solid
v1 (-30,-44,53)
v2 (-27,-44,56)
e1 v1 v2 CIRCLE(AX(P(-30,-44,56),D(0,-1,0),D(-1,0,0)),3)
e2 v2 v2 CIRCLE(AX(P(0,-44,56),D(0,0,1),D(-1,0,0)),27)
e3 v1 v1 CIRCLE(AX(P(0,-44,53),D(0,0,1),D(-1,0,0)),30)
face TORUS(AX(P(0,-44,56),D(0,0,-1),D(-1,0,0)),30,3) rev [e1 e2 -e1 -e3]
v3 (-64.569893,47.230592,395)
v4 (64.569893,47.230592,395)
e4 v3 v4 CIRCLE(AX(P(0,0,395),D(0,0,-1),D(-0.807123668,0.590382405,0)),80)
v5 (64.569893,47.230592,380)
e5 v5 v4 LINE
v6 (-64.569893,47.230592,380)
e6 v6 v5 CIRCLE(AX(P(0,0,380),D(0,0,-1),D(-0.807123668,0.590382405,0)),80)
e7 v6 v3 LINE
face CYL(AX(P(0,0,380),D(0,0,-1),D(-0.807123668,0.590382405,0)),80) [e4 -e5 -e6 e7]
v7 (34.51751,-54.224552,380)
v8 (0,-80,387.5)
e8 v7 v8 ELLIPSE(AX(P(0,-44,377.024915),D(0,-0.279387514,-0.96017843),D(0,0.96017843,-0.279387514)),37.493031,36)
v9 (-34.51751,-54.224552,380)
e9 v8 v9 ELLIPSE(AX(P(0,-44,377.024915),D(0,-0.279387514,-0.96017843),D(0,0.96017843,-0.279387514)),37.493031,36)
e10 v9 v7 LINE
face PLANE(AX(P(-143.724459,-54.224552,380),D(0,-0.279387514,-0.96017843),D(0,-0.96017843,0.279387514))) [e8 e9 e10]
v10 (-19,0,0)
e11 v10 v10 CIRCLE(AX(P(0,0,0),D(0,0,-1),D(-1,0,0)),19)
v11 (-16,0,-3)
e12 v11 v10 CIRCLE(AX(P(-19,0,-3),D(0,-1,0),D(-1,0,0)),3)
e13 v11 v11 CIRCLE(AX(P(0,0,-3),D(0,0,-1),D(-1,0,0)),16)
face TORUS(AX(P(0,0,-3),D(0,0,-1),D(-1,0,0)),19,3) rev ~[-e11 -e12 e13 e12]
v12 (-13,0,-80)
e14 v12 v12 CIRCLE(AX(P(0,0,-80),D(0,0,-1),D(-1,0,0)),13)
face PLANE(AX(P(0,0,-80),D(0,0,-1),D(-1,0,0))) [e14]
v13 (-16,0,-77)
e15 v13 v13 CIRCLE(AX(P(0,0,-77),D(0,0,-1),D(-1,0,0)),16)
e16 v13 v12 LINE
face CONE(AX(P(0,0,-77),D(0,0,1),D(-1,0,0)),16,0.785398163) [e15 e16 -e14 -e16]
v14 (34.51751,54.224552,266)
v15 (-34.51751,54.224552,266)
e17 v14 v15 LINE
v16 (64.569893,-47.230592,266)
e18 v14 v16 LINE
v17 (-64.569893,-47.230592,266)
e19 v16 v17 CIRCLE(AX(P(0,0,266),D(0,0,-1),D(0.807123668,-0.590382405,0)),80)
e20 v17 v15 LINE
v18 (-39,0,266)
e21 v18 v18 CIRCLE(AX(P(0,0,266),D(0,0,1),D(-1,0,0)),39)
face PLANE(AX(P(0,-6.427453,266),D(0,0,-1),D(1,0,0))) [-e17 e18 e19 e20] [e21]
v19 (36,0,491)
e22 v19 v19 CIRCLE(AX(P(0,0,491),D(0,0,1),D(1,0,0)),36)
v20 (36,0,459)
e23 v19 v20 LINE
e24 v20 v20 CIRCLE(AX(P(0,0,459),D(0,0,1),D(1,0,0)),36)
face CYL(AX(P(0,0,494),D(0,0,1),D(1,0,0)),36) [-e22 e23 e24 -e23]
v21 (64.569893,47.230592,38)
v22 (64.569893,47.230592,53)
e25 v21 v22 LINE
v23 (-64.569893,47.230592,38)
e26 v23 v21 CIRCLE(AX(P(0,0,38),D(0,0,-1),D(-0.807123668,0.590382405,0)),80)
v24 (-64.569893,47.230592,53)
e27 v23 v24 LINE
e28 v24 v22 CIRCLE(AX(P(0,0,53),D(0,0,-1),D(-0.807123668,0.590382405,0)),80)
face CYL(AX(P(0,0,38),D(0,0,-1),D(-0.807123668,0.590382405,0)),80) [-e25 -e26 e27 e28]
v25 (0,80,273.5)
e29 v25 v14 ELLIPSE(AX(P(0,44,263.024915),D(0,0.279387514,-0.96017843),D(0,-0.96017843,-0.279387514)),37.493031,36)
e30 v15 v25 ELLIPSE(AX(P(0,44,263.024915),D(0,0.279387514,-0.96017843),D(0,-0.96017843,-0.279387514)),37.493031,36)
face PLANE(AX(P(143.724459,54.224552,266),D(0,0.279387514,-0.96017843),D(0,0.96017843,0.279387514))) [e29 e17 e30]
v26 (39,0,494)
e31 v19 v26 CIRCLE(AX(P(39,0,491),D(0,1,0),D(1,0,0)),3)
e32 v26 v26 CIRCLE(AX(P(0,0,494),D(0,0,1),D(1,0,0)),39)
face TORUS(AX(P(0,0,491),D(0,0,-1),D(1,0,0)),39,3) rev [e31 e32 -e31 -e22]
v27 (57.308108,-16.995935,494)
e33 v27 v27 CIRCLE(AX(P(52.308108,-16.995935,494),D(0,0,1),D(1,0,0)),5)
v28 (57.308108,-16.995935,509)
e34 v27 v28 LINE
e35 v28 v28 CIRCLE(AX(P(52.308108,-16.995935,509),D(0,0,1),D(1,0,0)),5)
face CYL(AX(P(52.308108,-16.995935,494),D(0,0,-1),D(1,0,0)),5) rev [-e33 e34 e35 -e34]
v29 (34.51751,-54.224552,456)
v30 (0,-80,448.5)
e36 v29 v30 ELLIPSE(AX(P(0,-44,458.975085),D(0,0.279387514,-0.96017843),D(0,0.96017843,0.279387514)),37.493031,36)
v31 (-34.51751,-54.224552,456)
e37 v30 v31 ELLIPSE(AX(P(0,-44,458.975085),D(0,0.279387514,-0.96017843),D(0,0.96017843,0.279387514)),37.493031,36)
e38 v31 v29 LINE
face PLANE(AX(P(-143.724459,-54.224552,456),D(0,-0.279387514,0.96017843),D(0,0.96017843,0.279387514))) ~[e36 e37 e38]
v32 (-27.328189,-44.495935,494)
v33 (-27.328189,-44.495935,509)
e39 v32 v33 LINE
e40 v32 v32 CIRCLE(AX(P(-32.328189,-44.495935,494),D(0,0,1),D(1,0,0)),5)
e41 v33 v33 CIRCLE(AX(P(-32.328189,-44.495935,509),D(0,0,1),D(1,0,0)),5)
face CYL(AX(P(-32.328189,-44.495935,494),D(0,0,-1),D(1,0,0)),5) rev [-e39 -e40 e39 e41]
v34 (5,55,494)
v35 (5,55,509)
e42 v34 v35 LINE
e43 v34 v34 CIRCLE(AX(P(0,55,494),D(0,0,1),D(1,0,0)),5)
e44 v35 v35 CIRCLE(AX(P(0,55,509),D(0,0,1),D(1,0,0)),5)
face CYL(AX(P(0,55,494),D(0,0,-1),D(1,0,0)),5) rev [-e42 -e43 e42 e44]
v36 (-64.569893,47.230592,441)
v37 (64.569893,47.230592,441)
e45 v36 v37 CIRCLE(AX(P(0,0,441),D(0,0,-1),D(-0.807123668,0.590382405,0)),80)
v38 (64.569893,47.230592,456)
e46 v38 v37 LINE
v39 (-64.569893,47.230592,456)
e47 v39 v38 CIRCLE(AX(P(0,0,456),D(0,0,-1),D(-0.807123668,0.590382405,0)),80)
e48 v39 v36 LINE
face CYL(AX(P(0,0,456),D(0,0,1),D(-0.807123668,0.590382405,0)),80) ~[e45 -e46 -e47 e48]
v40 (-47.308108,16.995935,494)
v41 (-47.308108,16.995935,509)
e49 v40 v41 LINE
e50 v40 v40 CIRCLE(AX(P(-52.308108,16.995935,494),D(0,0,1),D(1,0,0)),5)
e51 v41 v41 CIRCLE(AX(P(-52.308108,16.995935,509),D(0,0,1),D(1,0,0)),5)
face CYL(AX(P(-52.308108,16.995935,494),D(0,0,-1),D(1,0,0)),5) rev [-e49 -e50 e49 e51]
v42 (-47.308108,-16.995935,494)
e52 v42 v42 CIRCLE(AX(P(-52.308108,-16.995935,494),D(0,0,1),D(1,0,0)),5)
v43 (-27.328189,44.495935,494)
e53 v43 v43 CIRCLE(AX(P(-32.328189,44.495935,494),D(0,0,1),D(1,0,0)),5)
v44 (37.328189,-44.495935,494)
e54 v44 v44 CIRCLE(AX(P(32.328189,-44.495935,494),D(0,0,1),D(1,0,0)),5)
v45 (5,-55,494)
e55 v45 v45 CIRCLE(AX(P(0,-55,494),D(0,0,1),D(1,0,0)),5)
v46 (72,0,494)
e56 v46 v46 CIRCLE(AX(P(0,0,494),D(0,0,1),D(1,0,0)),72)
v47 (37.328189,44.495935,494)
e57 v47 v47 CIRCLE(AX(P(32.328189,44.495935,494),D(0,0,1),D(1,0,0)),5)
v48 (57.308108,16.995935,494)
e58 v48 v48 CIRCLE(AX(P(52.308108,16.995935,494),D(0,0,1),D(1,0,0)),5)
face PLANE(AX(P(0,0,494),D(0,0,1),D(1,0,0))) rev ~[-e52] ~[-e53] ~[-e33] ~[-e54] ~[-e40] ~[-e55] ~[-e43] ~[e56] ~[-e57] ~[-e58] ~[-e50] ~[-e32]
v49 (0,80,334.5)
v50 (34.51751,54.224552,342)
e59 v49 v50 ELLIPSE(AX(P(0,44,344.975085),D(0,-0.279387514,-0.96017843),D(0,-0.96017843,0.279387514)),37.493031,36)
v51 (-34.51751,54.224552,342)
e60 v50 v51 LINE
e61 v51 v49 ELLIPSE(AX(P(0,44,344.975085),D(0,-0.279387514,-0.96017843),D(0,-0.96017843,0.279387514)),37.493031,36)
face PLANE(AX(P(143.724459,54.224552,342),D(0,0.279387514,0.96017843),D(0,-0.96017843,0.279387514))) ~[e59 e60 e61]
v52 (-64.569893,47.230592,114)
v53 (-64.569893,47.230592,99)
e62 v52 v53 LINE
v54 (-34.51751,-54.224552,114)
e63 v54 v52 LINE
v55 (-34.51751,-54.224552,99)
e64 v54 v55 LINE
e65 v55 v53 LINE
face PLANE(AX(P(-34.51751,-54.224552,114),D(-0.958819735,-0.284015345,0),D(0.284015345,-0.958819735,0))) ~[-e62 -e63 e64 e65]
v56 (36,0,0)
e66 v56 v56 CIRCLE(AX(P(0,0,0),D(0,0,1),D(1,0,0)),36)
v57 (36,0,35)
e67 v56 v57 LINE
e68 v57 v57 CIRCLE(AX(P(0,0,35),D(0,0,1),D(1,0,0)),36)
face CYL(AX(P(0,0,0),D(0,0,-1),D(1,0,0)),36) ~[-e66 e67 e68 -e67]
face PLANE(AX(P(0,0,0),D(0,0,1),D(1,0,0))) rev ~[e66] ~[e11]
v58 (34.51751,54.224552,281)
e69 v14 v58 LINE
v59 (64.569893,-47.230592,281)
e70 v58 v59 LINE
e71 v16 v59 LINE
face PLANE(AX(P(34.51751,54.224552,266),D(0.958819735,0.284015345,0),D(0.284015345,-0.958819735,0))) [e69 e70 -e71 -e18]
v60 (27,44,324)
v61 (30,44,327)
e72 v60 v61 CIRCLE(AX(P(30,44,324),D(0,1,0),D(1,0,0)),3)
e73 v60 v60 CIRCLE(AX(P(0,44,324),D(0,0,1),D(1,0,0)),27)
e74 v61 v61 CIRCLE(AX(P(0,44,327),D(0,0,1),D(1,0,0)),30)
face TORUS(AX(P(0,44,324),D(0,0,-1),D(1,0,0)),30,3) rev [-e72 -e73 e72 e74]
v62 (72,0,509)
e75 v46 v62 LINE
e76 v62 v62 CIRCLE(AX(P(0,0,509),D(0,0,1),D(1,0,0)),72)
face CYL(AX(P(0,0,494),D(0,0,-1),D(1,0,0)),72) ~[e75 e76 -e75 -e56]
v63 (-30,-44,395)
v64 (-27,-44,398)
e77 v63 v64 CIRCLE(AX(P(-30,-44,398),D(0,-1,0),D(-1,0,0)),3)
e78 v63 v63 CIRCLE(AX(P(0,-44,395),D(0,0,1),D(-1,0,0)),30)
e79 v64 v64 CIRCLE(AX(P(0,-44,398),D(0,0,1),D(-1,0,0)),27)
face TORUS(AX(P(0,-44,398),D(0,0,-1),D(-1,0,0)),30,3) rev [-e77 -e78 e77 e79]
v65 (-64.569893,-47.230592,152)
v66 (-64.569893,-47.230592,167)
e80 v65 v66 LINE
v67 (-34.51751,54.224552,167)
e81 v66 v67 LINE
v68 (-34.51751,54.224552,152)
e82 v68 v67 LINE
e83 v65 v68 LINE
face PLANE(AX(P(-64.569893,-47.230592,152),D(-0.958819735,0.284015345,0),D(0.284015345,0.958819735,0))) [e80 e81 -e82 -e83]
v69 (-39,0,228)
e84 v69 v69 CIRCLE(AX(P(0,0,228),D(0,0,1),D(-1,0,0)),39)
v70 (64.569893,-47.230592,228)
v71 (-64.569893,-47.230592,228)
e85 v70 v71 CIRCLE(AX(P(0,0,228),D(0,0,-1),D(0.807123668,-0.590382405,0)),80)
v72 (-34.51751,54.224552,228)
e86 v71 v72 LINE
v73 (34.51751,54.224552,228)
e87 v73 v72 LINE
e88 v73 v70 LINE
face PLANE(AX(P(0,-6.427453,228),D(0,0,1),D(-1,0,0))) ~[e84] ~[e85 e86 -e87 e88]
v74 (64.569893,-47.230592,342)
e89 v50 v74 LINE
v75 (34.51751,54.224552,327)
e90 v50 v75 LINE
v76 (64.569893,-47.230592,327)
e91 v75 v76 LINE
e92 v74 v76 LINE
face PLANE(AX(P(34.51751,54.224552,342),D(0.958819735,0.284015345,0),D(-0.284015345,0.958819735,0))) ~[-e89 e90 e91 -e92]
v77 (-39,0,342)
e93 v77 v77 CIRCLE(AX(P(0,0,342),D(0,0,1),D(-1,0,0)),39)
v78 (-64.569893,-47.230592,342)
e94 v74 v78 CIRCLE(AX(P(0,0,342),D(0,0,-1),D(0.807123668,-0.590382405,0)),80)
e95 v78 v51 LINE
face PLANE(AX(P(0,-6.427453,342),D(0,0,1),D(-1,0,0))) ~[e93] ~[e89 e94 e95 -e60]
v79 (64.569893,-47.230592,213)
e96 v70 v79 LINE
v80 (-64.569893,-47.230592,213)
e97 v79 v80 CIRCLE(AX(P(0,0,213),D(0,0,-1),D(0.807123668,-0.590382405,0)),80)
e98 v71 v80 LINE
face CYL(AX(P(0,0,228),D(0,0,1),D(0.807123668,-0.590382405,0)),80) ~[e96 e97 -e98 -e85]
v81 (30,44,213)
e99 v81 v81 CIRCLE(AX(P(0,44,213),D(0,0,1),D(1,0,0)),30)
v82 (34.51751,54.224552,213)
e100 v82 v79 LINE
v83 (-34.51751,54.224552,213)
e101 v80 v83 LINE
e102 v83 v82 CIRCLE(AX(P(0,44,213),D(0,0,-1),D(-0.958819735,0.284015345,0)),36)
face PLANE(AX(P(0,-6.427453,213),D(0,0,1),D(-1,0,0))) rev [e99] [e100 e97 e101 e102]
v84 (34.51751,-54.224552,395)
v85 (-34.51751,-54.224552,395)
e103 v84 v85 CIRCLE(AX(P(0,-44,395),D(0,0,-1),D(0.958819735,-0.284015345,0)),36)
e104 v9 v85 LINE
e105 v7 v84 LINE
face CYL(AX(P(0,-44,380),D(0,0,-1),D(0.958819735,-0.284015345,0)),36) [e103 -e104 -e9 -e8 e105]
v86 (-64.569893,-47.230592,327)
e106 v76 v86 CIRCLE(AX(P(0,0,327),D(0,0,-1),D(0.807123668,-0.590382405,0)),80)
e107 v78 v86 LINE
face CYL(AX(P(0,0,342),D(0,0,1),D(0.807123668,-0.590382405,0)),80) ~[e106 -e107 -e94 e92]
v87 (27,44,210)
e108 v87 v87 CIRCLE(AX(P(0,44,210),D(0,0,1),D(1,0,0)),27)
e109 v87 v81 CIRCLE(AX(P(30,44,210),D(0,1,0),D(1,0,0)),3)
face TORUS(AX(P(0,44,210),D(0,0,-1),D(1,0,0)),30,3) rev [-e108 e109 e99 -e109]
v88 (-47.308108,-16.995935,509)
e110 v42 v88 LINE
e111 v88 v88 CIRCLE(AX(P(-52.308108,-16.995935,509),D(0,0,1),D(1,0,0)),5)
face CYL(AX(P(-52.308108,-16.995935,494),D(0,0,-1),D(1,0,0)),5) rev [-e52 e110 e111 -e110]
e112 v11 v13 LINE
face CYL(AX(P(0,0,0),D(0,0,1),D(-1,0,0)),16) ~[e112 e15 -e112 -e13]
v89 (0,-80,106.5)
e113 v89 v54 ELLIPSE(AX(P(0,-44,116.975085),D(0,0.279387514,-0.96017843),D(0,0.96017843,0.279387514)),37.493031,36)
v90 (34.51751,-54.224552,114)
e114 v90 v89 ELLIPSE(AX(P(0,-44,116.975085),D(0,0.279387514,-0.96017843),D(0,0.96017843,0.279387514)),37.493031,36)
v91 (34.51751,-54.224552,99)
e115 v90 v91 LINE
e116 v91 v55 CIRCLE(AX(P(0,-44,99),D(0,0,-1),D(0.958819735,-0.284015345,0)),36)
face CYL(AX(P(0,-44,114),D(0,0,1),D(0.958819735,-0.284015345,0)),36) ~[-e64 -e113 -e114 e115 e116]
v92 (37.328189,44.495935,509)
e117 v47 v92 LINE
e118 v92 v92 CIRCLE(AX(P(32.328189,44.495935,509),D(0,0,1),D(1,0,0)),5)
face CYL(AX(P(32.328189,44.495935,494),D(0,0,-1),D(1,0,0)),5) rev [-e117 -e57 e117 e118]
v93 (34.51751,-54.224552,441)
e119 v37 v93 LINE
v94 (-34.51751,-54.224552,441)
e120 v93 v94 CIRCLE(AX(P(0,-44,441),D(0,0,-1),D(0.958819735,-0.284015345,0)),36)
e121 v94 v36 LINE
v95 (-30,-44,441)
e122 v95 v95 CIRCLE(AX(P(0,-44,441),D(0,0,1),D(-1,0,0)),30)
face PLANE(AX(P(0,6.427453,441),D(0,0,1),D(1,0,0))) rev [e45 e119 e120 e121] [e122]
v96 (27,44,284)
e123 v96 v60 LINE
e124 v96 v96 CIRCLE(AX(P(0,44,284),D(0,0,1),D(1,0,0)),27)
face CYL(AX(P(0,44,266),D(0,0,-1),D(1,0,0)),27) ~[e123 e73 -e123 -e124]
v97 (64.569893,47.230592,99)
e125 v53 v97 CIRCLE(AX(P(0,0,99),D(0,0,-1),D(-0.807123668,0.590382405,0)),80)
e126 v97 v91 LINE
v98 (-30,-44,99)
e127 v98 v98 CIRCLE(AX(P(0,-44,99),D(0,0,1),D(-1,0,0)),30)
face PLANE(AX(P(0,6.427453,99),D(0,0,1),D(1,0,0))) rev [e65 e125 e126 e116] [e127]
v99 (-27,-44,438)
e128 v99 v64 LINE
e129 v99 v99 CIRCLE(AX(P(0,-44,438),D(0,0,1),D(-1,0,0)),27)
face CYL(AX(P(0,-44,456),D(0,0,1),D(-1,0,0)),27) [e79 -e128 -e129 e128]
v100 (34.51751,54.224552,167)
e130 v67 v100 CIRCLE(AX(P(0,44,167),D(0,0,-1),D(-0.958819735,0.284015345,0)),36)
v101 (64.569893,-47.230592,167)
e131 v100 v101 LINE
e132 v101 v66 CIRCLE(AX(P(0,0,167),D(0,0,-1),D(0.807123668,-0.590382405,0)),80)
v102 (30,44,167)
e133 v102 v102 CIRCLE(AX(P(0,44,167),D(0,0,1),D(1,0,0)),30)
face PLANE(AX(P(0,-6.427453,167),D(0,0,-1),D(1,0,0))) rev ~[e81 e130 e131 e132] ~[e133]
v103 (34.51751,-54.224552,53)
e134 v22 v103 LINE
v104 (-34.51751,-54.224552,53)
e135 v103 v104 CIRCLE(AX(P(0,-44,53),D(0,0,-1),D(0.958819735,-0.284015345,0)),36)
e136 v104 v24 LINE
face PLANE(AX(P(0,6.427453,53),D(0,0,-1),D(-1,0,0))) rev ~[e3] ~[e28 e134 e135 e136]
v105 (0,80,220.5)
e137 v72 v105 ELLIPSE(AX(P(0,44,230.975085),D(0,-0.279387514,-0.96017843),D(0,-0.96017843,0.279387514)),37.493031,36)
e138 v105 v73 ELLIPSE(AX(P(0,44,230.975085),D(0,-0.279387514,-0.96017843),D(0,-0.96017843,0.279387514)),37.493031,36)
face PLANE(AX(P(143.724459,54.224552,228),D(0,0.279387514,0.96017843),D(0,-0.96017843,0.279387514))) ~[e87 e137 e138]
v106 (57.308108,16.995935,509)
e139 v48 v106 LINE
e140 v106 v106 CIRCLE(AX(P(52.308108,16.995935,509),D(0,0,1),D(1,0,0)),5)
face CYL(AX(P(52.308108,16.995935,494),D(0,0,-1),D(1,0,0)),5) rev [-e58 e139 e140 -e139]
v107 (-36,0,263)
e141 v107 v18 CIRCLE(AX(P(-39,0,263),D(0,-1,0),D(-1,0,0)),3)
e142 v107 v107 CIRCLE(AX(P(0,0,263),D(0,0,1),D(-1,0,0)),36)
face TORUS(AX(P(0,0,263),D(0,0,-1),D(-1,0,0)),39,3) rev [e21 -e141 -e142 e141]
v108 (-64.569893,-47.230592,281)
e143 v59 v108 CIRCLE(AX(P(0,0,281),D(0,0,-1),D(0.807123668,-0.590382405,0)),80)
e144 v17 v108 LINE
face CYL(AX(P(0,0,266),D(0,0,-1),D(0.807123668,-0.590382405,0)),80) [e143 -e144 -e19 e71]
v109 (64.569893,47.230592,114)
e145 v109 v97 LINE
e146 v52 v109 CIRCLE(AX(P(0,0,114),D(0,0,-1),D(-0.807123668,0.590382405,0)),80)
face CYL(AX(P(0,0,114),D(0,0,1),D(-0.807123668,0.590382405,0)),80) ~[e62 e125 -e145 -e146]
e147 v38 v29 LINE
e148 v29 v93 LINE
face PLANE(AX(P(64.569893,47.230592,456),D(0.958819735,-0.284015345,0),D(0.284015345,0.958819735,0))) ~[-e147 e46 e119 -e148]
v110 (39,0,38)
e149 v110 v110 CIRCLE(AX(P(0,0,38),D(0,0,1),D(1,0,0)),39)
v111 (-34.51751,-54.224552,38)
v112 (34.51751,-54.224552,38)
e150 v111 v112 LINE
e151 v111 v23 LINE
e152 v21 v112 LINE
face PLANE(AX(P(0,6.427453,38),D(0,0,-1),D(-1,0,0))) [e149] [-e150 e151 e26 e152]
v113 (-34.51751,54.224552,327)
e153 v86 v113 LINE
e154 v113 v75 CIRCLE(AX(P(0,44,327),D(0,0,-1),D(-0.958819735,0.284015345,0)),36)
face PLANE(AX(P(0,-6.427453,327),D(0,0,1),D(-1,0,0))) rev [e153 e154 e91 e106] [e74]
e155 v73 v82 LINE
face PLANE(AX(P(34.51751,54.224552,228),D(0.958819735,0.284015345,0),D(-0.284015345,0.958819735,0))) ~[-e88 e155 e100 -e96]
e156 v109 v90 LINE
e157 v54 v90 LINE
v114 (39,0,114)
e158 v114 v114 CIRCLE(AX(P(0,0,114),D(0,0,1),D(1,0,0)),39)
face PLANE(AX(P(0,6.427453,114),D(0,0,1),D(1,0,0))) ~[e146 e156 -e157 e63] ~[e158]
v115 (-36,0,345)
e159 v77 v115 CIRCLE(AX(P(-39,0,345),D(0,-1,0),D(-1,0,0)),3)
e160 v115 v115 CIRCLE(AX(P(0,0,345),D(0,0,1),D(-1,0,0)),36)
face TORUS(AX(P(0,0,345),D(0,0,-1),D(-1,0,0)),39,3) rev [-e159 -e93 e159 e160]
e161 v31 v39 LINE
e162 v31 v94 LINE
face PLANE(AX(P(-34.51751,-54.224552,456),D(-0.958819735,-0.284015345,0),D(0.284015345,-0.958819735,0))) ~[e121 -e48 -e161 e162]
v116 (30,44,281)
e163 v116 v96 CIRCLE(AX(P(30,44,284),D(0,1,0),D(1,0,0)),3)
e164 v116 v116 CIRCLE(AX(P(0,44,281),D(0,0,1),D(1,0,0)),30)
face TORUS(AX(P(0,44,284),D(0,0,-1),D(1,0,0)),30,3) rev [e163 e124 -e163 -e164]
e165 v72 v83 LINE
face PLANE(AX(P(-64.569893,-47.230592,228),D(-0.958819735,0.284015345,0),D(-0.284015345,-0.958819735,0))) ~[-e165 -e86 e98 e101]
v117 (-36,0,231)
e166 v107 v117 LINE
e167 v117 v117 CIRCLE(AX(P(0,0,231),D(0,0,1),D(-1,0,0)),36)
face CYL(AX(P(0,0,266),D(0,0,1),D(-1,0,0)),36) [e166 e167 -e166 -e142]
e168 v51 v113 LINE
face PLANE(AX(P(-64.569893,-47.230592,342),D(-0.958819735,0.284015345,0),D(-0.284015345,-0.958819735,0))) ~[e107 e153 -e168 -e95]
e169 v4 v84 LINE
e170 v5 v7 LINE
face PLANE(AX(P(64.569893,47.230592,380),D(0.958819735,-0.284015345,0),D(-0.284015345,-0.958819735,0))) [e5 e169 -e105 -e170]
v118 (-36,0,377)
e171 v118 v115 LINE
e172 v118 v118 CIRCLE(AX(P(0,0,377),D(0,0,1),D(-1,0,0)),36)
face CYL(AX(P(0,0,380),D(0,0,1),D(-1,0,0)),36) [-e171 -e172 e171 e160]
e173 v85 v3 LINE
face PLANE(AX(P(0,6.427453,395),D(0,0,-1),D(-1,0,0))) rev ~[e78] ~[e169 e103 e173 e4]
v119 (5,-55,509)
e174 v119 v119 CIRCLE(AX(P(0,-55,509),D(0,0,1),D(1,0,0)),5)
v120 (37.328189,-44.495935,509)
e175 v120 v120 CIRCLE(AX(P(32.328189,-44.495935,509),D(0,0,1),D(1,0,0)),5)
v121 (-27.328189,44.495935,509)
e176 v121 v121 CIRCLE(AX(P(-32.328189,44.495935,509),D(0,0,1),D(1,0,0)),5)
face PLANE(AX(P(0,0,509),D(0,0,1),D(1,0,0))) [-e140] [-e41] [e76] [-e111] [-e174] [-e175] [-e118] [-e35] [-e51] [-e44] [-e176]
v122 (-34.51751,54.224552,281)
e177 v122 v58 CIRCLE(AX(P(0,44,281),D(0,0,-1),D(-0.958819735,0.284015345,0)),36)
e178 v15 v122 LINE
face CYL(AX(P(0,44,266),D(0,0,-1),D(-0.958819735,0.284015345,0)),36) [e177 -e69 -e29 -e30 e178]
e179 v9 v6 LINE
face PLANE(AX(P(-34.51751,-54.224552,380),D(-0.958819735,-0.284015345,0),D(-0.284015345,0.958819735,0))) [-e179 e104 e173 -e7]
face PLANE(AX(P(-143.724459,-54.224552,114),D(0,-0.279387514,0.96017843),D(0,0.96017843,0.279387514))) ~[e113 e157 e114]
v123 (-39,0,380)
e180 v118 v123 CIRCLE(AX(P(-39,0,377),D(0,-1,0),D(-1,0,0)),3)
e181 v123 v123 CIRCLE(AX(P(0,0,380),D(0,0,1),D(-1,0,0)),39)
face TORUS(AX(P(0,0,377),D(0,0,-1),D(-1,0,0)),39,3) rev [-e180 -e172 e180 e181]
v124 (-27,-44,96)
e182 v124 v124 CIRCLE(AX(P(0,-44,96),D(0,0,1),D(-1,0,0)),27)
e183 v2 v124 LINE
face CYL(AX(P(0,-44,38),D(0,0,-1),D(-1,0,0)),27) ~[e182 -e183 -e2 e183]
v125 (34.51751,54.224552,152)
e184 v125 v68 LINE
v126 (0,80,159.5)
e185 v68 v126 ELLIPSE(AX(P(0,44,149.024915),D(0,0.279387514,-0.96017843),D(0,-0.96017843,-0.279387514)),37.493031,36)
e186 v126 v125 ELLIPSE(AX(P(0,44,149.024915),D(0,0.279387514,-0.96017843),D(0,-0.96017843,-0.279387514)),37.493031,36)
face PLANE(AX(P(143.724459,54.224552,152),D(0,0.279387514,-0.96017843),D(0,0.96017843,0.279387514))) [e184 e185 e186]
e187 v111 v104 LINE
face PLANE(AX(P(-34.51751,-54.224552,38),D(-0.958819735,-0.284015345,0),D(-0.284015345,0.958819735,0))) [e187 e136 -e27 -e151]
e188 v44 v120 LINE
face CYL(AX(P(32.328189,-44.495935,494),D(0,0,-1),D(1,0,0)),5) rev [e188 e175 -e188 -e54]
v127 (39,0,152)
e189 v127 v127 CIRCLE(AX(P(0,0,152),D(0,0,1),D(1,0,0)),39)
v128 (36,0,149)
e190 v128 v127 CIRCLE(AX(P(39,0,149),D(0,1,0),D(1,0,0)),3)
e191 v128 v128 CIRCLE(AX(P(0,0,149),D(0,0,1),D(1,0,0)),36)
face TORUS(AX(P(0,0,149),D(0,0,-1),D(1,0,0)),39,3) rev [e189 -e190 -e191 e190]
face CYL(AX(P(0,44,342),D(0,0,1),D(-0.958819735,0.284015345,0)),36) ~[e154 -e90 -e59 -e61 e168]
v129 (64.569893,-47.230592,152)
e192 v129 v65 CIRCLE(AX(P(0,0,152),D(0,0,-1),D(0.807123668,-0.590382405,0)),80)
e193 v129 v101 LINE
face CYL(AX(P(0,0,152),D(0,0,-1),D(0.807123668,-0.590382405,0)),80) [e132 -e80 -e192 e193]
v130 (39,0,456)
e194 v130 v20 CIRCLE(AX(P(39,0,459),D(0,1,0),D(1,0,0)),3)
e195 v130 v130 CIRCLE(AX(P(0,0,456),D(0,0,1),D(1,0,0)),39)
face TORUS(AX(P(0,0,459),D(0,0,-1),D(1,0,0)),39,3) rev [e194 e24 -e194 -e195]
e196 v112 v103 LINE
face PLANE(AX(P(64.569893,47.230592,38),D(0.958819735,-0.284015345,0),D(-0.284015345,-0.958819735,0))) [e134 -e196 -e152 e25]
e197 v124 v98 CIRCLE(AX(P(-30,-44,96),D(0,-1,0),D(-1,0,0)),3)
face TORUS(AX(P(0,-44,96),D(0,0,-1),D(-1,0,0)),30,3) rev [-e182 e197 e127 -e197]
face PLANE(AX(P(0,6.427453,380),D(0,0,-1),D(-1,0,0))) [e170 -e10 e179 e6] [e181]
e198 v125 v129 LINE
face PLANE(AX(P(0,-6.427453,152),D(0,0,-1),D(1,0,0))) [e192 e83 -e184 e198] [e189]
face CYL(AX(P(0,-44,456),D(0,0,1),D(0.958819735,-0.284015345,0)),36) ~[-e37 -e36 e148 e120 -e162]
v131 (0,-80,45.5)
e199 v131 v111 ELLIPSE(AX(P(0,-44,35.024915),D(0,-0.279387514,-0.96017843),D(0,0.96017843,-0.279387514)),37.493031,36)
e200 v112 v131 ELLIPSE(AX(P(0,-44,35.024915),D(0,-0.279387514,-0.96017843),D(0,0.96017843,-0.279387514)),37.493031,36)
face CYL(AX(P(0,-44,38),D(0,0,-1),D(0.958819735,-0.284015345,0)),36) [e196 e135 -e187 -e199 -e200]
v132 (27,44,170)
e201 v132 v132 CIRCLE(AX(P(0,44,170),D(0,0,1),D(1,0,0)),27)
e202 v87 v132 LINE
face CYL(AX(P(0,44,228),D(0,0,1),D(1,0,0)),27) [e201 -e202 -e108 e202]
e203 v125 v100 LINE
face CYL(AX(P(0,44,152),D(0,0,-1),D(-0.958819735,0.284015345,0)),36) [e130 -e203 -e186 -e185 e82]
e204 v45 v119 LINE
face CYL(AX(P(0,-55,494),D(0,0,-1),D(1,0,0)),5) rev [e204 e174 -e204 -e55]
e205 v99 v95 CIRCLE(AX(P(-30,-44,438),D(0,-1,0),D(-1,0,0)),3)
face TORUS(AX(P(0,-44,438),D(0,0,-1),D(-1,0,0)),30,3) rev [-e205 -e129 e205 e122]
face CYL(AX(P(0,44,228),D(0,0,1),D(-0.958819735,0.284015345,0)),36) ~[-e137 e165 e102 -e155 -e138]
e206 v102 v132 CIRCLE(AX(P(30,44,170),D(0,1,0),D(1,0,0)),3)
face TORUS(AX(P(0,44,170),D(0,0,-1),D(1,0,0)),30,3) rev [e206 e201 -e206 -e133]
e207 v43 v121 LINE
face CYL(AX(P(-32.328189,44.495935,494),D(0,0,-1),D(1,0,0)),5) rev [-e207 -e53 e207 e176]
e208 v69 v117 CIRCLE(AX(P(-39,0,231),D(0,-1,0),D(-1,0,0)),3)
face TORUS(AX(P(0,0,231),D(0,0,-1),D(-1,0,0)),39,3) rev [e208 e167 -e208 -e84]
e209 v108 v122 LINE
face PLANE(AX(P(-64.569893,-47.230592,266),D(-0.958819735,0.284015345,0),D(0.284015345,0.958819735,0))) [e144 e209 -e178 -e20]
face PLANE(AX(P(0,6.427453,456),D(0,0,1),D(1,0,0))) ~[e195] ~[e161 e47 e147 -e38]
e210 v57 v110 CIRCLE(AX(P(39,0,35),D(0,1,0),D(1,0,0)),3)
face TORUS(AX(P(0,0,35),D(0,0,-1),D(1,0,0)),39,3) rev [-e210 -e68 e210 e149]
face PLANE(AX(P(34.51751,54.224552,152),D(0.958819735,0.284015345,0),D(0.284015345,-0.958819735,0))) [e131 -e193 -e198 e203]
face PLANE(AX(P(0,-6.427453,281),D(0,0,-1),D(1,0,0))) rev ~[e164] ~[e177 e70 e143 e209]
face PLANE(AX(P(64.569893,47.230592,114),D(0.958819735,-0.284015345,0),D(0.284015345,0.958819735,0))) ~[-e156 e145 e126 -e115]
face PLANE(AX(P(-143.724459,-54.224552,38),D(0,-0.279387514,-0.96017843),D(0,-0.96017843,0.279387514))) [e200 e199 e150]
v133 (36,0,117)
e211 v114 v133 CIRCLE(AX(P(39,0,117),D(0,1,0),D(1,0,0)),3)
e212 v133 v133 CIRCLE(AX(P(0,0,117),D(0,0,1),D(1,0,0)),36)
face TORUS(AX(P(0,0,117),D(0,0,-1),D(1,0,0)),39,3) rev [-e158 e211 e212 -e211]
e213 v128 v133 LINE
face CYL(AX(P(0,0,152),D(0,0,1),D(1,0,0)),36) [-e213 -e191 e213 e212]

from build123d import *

# Parameters (mm, degrees)
SKETCH1_R               = 36
BOSS_EXTRUDE1_DEPTH     = 38
SKETCH2_R               = 27
BOSS_EXTRUDE2_DEPTH     = 15
SKETCH2_2_R             = 27
BOSS_EXTRUDE3_DEPTH     = 61
CUT_EXTRUDE3_DEPTH      = 143.724458813
CUT_EXTRUDE3_DEPTH_BACK = 143.724458813
BODY_MOVE_COPY1_ANGLE   = 180
SKETCH5_R               = 72
SKETCH5_R_2             = 5
BOSS_EXTRUDE4_DEPTH     = 15
SKETCH6_R               = 16
BOSS_EXTRUDE5_DEPTH     = 80
CHAMFER1_SIZE           = 3
FILLET1_R               = 3


with BuildPart() as part:
    # Sketch1 → Boss-Extrude1 (new body)
    with BuildSketch(Plane.XY):
        Circle(SKETCH1_R)
    extrude(amount=BOSS_EXTRUDE1_DEPTH)

    # Sketch2 → Boss-Extrude2 (add)
    with BuildSketch(Plane.XY.offset(38)):
        with BuildLine():
            Line((-34.517510455, -54.224552409), (-64.569893475, 47.23059238))
            ThreePointArc((-64.569893475, 47.23059238), (0, 80), (64.569893475, 47.23059238))
            Line((64.569893475, 47.23059238), (34.517510455, -54.224552409))
            ThreePointArc((34.517510455, -54.224552409), (0, -80), (-34.517510455, -54.224552409))
        make_face()
        with Locations(Location((0, -44, 0), (0, 0, 144.817798311))):
            Circle(SKETCH2_R, mode=Mode.SUBTRACT)
    extrude(amount=BOSS_EXTRUDE2_DEPTH)

    # Sketch2<2> → Boss-Extrude3 (add)
    with BuildSketch(Plane.XY.offset(38)):
        with Locations(Location((0, -44, 0), (0, 0, 180))):
            Circle(SKETCH2_2_R)
    extrude(amount=BOSS_EXTRUDE3_DEPTH)

    # Sketch4 → Cut-Extrude3 (cut, two sides: drawn at the far end of the back side and taken through both)
    with BuildSketch(Plane(origin=(0, 0, 0), x_dir=(0, 0, -1), z_dir=(1, 0, 0)).offset(-CUT_EXTRUDE3_DEPTH_BACK)):
        Polygon((-45.5, -80), (-38, -80), (-38, -54.224552409), align=None)
    extrude(amount=CUT_EXTRUDE3_DEPTH + CUT_EXTRUDE3_DEPTH_BACK, mode=Mode.SUBTRACT)

    # Mirror1: part across plane


with BuildPart() as part_1:
    add(part.part)
    add(part.part.mirror(Plane.XY.offset(76)))


with BuildPart() as body_2:
    # Mirror2: mirrored copy
    add(part_1.part.mirror(Plane.XY.offset(133)))


with BuildPart() as body_2_1:
    # Body-Move/Copy1: moved
    add(body_2.part.rotate(Axis((0, 0, 0), (0, 0, 1)), BODY_MOVE_COPY1_ANGLE))


with BuildPart() as body_3:
    # Mirror3: mirrored copy
    add(body_2_1.part.mirror(Plane.XY.offset(247)))


with BuildPart() as body_4:
    # Mirror3 2: mirrored copy
    add(part_1.part.mirror(Plane.XY.offset(247)))


with BuildPart() as part_2:
    add(part_1.part)

    # Combine1: union body 2, body 3, body 4
    add(body_2_1.part)
    add(body_3.part)
    add(body_4.part)

    # Sketch5 → Boss-Extrude4 (add)
    with BuildSketch(Plane.XY.offset(494)):
        Circle(SKETCH5_R)
        with Locations((0, 55)):
            Circle(SKETCH5_R_2, mode=Mode.SUBTRACT)
        with Locations((32.328188876, 44.495934691)):
            Circle(SKETCH5_R_2, mode=Mode.SUBTRACT)
        with Locations((52.308108396, 16.995934691)):
            Circle(SKETCH5_R_2, mode=Mode.SUBTRACT)
        with Locations((52.308108396, -16.995934691)):
            Circle(SKETCH5_R_2, mode=Mode.SUBTRACT)
        with Locations((32.328188876, -44.495934691)):
            Circle(SKETCH5_R_2, mode=Mode.SUBTRACT)
        with Locations((0, -55)):
            Circle(SKETCH5_R_2, mode=Mode.SUBTRACT)
        with Locations((-32.328188876, -44.495934691)):
            Circle(SKETCH5_R_2, mode=Mode.SUBTRACT)
        with Locations((-52.308108396, -16.995934691)):
            Circle(SKETCH5_R_2, mode=Mode.SUBTRACT)
        with Locations((-52.308108396, 16.995934691)):
            Circle(SKETCH5_R_2, mode=Mode.SUBTRACT)
        with Locations((-32.328188876, 44.495934691)):
            Circle(SKETCH5_R_2, mode=Mode.SUBTRACT)
    extrude(amount=BOSS_EXTRUDE4_DEPTH)

    # Sketch6 → Boss-Extrude5 (add)
    with BuildSketch(Plane(origin=(0, 0, 0), x_dir=(-1, 0, 0), z_dir=(0, 0, -1))):
        Circle(SKETCH6_R)
    extrude(amount=BOSS_EXTRUDE5_DEPTH)

    # Chamfer1
    chamfer1_edges = [part_2.edges().sort_by_distance(p)[0] for p in [
        (16, 0, -80),
    ]]
    chamfer(chamfer1_edges, length=CHAMFER1_SIZE)

    # Fillet1
    fillet1_edges = [part_2.edges().sort_by_distance(p)[0] for p in [
        (27, -44, 53),
        (16, 0, 0),
        (27, -44, 99),
        (-36, 0, 38),
        (-36, 0, 114),
        (-36, 0, 152),
        (36, 0, 228),
        (-27, 44, 213),
        (-27, 44, 167),
        (36, 0, 266),
        (-27, 44, 281),
        (36, 0, 342),
        (-27, 44, 327),
        (-36, 0, 456),
        (-36, 0, 494),
        (27, -44, 441),
        (27, -44, 395),
        (36, 0, 380),
    ]]
    fillet(fillet1_edges, radius=FILLET1_R)


solid = part_2.part
